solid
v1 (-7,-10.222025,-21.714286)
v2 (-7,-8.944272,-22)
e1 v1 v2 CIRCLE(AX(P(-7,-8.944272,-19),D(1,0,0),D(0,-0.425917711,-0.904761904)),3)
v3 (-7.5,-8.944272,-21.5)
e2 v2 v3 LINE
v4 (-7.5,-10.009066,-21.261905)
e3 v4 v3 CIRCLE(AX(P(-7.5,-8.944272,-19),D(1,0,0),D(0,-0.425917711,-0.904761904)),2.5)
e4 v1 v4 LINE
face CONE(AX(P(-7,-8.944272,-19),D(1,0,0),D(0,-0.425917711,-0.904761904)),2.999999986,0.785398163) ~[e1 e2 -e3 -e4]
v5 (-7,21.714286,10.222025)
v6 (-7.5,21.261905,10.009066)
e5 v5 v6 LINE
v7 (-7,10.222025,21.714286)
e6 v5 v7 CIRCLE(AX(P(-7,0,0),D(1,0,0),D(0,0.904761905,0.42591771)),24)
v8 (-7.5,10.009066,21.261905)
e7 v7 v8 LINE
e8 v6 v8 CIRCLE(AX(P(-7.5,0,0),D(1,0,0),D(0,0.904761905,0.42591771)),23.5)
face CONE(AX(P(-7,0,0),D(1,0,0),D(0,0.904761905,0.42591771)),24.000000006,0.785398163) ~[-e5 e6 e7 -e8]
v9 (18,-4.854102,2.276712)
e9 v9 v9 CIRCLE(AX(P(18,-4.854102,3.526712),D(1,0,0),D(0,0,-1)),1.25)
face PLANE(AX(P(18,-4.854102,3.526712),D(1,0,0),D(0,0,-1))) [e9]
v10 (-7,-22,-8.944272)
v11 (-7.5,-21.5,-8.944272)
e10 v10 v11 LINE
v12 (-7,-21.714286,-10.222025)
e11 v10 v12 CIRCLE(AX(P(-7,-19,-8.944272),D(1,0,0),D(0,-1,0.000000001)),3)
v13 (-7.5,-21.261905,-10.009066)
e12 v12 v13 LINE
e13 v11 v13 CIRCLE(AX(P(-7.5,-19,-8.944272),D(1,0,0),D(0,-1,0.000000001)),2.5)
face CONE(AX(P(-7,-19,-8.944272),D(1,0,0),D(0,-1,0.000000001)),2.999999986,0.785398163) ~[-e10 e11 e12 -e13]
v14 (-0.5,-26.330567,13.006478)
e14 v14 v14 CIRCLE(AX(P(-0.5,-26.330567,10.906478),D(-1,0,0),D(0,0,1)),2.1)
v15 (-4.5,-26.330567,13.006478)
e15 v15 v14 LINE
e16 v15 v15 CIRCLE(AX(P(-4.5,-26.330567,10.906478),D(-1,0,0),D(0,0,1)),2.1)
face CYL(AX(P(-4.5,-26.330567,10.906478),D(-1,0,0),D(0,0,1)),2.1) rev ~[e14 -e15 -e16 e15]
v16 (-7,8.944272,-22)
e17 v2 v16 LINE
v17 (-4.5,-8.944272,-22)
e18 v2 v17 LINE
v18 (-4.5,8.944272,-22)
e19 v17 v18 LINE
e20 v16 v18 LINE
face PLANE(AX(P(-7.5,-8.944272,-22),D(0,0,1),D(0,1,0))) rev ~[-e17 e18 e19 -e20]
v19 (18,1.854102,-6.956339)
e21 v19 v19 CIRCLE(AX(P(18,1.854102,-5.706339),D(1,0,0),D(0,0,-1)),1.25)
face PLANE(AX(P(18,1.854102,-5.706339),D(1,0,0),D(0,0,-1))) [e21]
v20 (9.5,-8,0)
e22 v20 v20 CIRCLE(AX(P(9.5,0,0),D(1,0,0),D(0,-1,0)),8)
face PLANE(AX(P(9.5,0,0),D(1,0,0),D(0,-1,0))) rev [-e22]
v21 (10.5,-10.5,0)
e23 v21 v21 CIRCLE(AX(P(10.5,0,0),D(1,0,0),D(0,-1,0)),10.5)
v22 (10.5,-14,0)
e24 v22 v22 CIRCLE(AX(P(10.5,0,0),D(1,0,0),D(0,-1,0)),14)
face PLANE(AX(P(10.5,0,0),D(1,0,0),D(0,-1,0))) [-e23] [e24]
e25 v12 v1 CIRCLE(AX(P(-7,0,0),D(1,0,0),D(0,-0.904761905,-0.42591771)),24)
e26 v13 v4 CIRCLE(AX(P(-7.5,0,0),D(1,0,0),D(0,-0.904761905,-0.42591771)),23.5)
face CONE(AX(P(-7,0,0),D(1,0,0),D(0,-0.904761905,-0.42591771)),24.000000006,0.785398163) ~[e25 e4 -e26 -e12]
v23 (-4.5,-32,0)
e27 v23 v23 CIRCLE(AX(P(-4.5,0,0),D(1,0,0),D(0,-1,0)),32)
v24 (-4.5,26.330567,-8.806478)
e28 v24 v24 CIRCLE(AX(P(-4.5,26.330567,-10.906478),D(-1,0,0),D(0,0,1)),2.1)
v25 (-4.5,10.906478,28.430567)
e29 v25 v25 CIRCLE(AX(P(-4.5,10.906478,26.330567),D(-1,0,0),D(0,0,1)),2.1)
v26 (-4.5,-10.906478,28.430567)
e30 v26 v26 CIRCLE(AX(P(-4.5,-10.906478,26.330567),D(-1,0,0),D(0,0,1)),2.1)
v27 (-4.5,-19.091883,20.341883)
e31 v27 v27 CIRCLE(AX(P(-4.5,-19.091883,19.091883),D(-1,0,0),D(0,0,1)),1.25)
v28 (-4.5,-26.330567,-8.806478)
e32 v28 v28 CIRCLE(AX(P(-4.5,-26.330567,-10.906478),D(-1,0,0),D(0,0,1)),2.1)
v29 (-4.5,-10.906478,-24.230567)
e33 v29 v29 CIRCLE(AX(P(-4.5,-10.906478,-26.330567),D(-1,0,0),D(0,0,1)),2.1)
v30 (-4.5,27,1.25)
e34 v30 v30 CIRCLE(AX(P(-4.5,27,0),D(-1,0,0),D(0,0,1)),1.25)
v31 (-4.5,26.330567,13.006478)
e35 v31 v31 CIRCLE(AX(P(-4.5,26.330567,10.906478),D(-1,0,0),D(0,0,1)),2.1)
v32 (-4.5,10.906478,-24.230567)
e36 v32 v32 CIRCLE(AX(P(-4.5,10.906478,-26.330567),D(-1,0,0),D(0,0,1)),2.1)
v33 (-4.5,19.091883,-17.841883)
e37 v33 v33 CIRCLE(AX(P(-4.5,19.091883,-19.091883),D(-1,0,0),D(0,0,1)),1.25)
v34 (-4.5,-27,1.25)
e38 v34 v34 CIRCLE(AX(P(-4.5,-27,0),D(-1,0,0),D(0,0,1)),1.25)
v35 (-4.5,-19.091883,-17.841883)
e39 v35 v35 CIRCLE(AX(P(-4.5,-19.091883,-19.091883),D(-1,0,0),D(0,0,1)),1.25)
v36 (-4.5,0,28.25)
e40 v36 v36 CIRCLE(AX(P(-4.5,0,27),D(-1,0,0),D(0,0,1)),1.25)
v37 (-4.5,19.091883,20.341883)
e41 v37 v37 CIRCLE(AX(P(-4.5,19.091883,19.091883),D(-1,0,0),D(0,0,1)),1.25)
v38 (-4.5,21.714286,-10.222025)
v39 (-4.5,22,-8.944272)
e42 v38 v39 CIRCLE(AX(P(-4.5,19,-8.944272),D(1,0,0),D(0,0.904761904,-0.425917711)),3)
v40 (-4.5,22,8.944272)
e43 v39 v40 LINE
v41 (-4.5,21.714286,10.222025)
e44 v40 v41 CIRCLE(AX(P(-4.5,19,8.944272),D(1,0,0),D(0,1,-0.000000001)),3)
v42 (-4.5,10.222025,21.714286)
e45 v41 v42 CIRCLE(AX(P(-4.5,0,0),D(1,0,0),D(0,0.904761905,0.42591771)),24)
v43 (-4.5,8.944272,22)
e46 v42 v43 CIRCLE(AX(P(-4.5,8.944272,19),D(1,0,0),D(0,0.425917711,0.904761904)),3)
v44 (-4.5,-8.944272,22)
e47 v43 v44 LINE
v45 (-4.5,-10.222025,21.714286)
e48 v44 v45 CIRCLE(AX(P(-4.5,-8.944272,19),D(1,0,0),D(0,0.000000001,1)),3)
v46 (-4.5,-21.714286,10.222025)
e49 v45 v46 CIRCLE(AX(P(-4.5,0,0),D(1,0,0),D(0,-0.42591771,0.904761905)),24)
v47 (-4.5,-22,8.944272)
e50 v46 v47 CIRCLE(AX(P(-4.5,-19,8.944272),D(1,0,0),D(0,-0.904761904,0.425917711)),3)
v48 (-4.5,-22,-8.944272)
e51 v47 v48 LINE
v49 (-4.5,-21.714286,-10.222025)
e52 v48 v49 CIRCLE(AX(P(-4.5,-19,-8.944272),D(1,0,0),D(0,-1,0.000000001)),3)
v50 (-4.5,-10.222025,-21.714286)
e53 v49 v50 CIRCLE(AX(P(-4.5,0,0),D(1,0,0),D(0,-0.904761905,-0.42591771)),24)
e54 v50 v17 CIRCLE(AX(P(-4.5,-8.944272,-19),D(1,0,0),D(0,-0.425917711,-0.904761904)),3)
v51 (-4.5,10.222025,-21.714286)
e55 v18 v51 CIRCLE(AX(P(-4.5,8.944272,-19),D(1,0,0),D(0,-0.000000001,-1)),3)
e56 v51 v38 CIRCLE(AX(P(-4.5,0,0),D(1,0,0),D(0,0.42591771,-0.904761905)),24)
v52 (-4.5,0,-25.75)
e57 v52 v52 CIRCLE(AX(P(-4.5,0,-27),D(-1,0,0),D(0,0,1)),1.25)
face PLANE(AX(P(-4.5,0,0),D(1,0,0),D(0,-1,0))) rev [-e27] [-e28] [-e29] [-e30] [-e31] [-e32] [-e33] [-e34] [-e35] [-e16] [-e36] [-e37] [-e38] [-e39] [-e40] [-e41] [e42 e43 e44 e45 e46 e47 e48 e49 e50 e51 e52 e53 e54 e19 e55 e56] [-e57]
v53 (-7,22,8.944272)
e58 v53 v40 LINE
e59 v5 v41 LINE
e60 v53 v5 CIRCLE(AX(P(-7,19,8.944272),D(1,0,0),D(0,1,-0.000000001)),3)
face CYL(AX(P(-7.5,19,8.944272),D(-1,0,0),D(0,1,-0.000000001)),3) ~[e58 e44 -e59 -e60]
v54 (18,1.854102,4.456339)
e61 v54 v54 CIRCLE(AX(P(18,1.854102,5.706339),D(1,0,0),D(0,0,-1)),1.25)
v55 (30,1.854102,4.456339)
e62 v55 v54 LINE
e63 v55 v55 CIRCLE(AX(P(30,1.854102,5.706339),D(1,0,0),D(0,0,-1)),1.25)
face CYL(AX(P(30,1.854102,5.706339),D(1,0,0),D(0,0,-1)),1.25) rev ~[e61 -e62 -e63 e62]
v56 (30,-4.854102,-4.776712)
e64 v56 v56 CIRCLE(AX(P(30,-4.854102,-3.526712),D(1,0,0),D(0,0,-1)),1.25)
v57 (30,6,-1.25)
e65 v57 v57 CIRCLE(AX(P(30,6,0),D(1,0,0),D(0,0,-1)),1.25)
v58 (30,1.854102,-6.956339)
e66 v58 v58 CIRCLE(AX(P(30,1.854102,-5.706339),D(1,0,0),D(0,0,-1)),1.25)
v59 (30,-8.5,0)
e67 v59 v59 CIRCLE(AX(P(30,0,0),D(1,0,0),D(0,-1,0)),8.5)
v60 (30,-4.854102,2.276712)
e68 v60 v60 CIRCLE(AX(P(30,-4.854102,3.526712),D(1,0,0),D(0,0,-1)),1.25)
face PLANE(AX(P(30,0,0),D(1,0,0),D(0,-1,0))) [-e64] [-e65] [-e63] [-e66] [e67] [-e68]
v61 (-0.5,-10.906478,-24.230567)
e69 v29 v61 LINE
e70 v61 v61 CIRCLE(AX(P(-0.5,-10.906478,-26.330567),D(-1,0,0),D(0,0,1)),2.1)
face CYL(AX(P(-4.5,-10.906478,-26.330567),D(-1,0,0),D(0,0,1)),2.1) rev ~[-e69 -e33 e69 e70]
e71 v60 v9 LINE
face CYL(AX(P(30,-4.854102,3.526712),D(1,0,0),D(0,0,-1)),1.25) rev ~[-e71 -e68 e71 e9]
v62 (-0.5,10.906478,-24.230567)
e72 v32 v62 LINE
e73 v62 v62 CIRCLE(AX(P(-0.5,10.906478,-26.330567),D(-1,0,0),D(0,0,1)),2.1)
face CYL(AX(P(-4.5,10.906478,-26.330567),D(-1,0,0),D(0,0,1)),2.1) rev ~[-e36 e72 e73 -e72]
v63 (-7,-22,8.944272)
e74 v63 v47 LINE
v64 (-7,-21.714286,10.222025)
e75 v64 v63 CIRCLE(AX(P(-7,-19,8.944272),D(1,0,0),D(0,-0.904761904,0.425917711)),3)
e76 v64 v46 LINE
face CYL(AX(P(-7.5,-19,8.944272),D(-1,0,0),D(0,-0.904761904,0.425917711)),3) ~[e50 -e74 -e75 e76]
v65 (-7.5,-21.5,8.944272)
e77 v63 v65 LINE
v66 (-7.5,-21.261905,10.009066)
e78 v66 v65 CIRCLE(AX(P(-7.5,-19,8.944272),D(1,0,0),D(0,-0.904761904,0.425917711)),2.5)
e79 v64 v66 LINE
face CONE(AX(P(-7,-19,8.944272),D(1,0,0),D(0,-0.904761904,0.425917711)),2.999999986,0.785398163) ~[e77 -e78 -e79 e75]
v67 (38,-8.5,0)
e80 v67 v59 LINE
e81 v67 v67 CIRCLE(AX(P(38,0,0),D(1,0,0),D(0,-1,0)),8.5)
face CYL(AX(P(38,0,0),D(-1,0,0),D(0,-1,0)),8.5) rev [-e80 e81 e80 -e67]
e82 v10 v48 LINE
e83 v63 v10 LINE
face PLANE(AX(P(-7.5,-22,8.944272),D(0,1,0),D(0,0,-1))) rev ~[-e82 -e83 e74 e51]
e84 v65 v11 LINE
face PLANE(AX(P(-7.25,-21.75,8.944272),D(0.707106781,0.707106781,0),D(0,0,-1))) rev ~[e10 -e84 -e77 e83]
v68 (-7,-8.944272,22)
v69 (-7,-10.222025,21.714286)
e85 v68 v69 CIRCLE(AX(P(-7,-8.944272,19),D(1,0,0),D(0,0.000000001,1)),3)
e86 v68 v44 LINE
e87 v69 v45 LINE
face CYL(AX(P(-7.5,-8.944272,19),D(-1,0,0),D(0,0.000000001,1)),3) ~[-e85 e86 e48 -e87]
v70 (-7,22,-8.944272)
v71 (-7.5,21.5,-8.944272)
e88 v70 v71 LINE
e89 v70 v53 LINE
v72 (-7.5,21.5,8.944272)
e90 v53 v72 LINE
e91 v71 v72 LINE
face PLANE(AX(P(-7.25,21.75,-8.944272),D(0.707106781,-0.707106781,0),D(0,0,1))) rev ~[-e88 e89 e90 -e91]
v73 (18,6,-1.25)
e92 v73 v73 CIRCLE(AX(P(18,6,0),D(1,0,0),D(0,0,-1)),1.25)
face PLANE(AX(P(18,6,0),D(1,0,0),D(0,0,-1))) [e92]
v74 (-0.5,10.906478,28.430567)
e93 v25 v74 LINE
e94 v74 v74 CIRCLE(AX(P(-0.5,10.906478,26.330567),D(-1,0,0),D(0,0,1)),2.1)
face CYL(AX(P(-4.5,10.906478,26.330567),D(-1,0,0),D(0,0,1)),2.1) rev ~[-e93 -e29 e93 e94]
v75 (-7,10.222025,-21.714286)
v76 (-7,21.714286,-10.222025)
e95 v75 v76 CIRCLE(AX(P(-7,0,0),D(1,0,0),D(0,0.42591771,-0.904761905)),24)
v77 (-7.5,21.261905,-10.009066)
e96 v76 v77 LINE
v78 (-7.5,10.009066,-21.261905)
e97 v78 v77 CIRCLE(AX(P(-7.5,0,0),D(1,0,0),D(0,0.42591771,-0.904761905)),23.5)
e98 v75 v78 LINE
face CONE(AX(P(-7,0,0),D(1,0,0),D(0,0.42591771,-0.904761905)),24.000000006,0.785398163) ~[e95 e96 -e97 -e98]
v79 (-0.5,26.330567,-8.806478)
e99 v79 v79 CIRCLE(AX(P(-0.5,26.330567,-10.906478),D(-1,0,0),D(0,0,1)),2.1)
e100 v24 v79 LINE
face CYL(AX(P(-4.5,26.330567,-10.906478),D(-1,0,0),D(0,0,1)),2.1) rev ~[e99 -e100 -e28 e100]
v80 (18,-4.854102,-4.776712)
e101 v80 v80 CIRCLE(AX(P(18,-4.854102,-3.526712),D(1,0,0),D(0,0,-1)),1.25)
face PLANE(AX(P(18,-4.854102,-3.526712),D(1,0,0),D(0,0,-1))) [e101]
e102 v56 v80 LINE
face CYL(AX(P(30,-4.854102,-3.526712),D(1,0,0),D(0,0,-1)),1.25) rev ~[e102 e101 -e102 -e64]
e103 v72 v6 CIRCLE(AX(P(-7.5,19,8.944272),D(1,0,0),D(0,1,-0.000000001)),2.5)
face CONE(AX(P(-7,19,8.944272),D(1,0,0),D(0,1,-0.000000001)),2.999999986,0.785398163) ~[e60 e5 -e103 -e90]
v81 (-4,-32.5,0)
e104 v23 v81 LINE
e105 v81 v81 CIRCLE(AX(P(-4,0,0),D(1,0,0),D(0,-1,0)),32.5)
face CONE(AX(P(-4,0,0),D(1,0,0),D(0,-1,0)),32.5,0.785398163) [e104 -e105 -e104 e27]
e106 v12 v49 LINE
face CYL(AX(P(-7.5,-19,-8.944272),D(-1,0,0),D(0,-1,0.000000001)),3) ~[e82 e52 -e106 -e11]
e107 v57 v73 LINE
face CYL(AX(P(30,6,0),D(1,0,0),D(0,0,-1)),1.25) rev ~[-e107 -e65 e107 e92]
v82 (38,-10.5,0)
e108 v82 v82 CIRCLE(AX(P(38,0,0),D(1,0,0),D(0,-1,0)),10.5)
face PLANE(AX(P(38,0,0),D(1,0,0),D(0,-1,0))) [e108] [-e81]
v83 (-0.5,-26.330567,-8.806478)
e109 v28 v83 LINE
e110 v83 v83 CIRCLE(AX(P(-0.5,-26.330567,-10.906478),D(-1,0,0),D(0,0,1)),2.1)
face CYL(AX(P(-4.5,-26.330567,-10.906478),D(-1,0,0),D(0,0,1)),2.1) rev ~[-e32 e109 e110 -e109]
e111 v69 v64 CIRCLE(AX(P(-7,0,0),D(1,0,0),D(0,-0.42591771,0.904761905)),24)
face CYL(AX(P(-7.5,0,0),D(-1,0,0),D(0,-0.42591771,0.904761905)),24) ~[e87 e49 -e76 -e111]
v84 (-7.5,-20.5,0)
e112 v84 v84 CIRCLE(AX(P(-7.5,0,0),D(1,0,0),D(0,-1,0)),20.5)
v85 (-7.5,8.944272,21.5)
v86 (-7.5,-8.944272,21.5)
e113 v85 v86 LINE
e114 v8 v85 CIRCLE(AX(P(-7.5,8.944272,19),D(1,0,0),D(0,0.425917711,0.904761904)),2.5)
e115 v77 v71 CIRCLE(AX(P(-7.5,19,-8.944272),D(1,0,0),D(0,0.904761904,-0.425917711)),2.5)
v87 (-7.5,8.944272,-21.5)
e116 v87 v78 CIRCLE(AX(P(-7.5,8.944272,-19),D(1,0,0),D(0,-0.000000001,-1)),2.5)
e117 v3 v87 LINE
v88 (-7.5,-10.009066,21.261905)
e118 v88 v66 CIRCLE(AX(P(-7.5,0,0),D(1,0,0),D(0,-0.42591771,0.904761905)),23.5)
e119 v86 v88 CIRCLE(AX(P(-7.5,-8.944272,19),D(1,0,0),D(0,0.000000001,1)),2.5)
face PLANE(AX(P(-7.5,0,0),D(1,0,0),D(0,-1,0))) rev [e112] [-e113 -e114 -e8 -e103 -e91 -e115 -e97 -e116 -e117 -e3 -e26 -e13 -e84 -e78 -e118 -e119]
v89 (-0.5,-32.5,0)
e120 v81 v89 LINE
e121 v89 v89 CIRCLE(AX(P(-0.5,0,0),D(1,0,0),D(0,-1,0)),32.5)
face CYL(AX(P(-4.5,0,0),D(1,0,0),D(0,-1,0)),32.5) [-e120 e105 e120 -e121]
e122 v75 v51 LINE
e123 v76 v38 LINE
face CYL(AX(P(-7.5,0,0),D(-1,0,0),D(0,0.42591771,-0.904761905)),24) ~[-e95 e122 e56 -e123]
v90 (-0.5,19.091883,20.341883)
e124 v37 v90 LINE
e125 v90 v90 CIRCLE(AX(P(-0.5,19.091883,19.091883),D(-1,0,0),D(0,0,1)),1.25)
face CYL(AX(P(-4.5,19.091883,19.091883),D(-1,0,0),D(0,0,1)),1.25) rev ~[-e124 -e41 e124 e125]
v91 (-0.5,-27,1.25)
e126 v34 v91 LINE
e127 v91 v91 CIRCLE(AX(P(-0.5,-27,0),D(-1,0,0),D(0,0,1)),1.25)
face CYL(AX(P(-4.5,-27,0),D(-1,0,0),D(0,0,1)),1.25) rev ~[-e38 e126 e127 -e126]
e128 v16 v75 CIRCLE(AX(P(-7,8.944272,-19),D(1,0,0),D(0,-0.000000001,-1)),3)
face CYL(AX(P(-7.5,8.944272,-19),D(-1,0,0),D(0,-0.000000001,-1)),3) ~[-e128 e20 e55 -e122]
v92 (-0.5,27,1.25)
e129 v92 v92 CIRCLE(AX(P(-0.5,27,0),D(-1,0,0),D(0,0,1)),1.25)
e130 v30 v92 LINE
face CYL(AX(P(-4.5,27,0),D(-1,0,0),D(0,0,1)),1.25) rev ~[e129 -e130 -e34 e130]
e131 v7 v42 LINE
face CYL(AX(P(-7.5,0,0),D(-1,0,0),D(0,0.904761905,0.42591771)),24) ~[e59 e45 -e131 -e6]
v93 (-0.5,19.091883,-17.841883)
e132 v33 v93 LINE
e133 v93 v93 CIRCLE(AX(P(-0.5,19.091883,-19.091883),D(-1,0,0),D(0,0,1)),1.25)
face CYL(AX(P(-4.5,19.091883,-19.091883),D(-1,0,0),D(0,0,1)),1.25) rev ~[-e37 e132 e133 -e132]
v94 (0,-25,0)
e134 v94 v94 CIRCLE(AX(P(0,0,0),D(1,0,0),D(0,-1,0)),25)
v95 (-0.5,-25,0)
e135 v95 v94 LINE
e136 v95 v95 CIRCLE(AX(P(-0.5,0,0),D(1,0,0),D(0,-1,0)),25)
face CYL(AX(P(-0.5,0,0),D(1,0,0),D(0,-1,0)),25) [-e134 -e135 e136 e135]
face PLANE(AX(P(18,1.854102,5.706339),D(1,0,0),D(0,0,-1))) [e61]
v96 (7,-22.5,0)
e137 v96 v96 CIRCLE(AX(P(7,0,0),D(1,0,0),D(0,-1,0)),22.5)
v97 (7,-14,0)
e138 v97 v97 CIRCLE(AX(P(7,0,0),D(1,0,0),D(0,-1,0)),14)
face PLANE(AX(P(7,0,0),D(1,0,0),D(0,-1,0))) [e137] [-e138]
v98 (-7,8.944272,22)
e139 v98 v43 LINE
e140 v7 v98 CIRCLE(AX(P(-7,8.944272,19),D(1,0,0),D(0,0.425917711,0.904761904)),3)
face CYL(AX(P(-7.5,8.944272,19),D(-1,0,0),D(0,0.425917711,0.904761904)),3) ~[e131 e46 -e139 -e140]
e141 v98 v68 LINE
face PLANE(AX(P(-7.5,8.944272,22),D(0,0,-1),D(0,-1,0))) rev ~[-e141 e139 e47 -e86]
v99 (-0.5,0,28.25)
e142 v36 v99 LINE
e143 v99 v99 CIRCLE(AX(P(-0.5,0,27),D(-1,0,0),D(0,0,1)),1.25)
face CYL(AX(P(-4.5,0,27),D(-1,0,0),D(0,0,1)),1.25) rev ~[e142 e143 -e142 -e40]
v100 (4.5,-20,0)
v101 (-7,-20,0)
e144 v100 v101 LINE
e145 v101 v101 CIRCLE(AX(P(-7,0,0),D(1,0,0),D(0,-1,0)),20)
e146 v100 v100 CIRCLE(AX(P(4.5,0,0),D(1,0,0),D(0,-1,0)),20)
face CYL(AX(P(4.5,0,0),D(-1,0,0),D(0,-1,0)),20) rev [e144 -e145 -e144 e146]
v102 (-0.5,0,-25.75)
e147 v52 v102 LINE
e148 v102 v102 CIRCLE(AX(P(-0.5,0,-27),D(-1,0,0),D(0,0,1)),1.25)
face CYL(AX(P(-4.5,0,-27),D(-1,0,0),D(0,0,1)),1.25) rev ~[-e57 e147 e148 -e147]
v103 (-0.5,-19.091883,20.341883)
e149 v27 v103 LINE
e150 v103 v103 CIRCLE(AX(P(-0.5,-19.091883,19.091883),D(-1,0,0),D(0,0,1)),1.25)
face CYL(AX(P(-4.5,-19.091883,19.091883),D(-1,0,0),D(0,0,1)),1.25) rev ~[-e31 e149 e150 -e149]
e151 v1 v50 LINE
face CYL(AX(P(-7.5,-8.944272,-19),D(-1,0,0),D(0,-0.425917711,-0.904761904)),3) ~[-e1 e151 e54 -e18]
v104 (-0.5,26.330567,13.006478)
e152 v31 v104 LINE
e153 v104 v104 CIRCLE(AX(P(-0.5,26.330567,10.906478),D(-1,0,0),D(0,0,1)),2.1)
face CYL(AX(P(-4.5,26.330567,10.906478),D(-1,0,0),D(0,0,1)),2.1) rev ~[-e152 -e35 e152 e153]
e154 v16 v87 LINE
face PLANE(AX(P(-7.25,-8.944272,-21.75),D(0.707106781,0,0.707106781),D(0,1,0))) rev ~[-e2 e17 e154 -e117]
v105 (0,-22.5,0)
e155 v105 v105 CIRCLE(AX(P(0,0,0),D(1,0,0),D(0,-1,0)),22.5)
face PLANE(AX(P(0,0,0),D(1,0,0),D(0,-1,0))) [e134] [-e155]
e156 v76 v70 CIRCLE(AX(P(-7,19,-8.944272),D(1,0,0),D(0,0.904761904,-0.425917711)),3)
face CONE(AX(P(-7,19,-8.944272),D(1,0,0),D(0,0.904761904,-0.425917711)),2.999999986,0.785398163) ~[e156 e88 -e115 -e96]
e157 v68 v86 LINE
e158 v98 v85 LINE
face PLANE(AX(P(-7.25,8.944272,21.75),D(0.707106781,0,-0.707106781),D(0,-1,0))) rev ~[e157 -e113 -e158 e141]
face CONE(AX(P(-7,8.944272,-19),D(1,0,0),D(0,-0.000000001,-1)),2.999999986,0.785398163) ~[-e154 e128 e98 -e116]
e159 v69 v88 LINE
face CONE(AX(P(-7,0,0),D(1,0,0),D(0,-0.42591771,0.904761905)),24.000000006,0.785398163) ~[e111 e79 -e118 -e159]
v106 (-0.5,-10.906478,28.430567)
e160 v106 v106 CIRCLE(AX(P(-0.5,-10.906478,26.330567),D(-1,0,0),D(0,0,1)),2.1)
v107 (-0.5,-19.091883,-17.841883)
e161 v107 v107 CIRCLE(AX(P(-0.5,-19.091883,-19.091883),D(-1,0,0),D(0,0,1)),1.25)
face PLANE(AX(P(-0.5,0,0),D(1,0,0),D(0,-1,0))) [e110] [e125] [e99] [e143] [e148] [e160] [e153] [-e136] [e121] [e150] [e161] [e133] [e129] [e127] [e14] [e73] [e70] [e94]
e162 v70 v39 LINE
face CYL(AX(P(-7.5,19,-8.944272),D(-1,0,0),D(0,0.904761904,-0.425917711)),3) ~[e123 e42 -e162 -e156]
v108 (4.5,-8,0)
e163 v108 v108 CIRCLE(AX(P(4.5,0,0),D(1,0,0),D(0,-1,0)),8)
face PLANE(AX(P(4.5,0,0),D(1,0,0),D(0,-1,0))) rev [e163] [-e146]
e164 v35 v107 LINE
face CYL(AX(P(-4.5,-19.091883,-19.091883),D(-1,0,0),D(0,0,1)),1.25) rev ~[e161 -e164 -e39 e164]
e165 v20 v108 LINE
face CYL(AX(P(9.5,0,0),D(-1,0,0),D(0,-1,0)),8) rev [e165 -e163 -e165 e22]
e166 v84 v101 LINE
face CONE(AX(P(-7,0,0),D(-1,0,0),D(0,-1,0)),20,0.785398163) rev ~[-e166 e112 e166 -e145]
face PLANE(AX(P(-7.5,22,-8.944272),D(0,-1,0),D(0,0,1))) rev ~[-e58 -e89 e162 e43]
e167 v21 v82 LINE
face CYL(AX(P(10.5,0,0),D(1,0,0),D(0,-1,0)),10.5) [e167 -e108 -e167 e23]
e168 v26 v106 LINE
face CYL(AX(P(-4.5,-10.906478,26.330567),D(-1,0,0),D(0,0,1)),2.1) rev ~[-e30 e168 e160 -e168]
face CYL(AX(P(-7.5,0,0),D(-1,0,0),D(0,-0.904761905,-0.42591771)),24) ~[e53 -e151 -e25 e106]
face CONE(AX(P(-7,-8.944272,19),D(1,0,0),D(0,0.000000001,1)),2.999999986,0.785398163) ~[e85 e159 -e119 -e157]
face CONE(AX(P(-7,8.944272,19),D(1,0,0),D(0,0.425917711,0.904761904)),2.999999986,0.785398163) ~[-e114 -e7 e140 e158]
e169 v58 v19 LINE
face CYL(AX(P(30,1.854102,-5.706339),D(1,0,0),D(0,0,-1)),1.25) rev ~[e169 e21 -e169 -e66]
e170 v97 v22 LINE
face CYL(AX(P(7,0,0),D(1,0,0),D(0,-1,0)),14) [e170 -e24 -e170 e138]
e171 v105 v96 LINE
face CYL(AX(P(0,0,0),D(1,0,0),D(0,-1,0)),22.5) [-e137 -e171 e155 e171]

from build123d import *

# Parameters (mm, degrees)
SKETCH2_R          = 32.5
CUT_EXTRUDE1_DEPTH = 3
SKETCH3_R          = 1.25
CUT_EXTRUDE2_DEPTH = 12
CUT_EXTRUDE3_REACH = 44.5
SKETCH4_R          = 1.25
SKETCH4_R_2        = 2.1
CHAMFER1_SIZE      = 0.5
CHAMFER2_SIZE      = 0.5


with BuildPart() as part:
    # Sketch1 → Revolve1 (revolve)
    with BuildSketch(Plane.YX):
        Polygon((-32.5, -4.5), (-32.5, -0.5), (-25, -0.5), (-25, 0), (-22.5, 0), (-22.5, 7), (-14, 7), (-14, 10.5), (-10.5, 10.5), (-10.5, 38), (-8.5, 38), (-8.5, 30), (0, 30), (0, 9.5), (-8, 9.5), (-8, 4.5), (-20, 4.5), (-20, -7.5), (-24, -7.5), (-24, -4.5), align=None)
    revolve(axis=Axis((0, 0, 0), (1, 0, 0)))

    # Sketch2 → Cut-Extrude1 (cut)
    with BuildSketch(Plane.ZY.offset(7.5)):
        Circle(SKETCH2_R)
        with BuildLine():
            Line((-8.94427191, 22), (8.94427191, 22))
            ThreePointArc((8.94427191, 22), (9.598925581, 21.927700219), (10.22202504, 21.714285714))
            ThreePointArc((10.22202504, 21.714285714), (16.970562748, 16.970562748), (21.714285714, 10.22202504))
            ThreePointArc((21.714285714, 10.22202504), (21.927700219, 9.598925581), (22, 8.94427191))
            Line((22, 8.94427191), (22, -8.94427191))
            ThreePointArc((22, -8.94427191), (21.927700219, -9.598925581), (21.714285714, -10.22202504))
            ThreePointArc((21.714285714, -10.22202504), (16.970562748, -16.970562748), (10.22202504, -21.714285714))
            ThreePointArc((10.22202504, -21.714285714), (9.598925581, -21.927700219), (8.94427191, -22))
            Line((8.94427191, -22), (-8.94427191, -22))
            ThreePointArc((-8.94427191, -22), (-9.598925581, -21.927700219), (-10.22202504, -21.714285714))
            ThreePointArc((-10.22202504, -21.714285714), (-16.970562748, -16.970562748), (-21.714285714, -10.22202504))
            ThreePointArc((-21.714285714, -10.22202504), (-21.927700219, -9.598925581), (-22, -8.94427191))
            Line((-22, -8.94427191), (-22, 8.94427191))
            ThreePointArc((-22, 8.94427191), (-21.927700219, 9.598925581), (-21.714285714, 10.22202504))
            ThreePointArc((-21.714285714, 10.22202504), (-16.970562748, 16.970562748), (-10.22202504, 21.714285714))
            ThreePointArc((-10.22202504, 21.714285714), (-9.598925581, 21.927700219), (-8.94427191, 22))
        make_face(mode=Mode.SUBTRACT)
    extrude(amount=-CUT_EXTRUDE1_DEPTH, mode=Mode.SUBTRACT)

    # Sketch3 → Cut-Extrude2 (cut)
    with BuildSketch(Plane(origin=(30, 0, 0), x_dir=(0, 0, -1), z_dir=(1, 0, 0))):
        with Locations((0, 6)):
            Circle(SKETCH3_R)
        with Locations((5.706339098, 1.854101966)):
            Circle(SKETCH3_R)
        with Locations((3.526711514, -4.854101966)):
            Circle(SKETCH3_R)
        with Locations((-3.526711514, -4.854101966)):
            Circle(SKETCH3_R)
        with Locations((-5.706339098, 1.854101966)):
            Circle(SKETCH3_R)
    extrude(amount=-CUT_EXTRUDE2_DEPTH, mode=Mode.SUBTRACT)

    # Sketch4 → Cut-Extrude3 (cut, up to next)
    with BuildSketch(Plane.ZY.offset(4.5), mode=Mode.PRIVATE) as cut_extrude3_sk1:
        with Locations((0, 27)):
            Circle(SKETCH4_R)
    cut_extrude3_tool1 = extrude(cut_extrude3_sk1.sketch, amount=-CUT_EXTRUDE3_REACH, mode=Mode.PRIVATE) & part.part
    add(cut_extrude3_tool1.solids().sort_by_distance((-4.5, 27, 0))[0], mode=Mode.SUBTRACT)
    # Sketch4 → Cut-Extrude3 (cut, up to next)
    with BuildSketch(Plane.ZY.offset(4.5), mode=Mode.PRIVATE) as cut_extrude3_sk2:
        with Locations((10.906477822, 26.330566677)):
            Circle(SKETCH4_R_2)
    cut_extrude3_tool2 = extrude(cut_extrude3_sk2.sketch, amount=-CUT_EXTRUDE3_REACH, mode=Mode.PRIVATE) & part.part
    add(cut_extrude3_tool2.solids().sort_by_distance((-4.5, 26.330567, 10.906478))[0], mode=Mode.SUBTRACT)
    # Sketch4 → Cut-Extrude3 (cut, up to next)
    with BuildSketch(Plane.ZY.offset(4.5), mode=Mode.PRIVATE) as cut_extrude3_sk3:
        with Locations((19.091883092, 19.091883092)):
            Circle(SKETCH4_R)
    cut_extrude3_tool3 = extrude(cut_extrude3_sk3.sketch, amount=-CUT_EXTRUDE3_REACH, mode=Mode.PRIVATE) & part.part
    add(cut_extrude3_tool3.solids().sort_by_distance((-4.5, 19.091883, 19.091883))[0], mode=Mode.SUBTRACT)
    # Sketch4 → Cut-Extrude3 (cut, up to next)
    with BuildSketch(Plane.ZY.offset(4.5), mode=Mode.PRIVATE) as cut_extrude3_sk4:
        with Locations((26.330566677, 10.906477822)):
            Circle(SKETCH4_R_2)
    cut_extrude3_tool4 = extrude(cut_extrude3_sk4.sketch, amount=-CUT_EXTRUDE3_REACH, mode=Mode.PRIVATE) & part.part
    add(cut_extrude3_tool4.solids().sort_by_distance((-4.5, 10.906478, 26.330567))[0], mode=Mode.SUBTRACT)
    # Sketch4 → Cut-Extrude3 (cut, up to next)
    with BuildSketch(Plane.ZY.offset(4.5), mode=Mode.PRIVATE) as cut_extrude3_sk5:
        with Locations((27, 0)):
            Circle(SKETCH4_R)
    cut_extrude3_tool5 = extrude(cut_extrude3_sk5.sketch, amount=-CUT_EXTRUDE3_REACH, mode=Mode.PRIVATE) & part.part
    add(cut_extrude3_tool5.solids().sort_by_distance((-4.5, 0, 27))[0], mode=Mode.SUBTRACT)
    # Sketch4 → Cut-Extrude3 (cut, up to next)
    with BuildSketch(Plane.ZY.offset(4.5), mode=Mode.PRIVATE) as cut_extrude3_sk6:
        with Locations((26.330566677, -10.906477822)):
            Circle(SKETCH4_R_2)
    cut_extrude3_tool6 = extrude(cut_extrude3_sk6.sketch, amount=-CUT_EXTRUDE3_REACH, mode=Mode.PRIVATE) & part.part
    add(cut_extrude3_tool6.solids().sort_by_distance((-4.5, -10.906478, 26.330567))[0], mode=Mode.SUBTRACT)
    # Sketch4 → Cut-Extrude3 (cut, up to next)
    with BuildSketch(Plane.ZY.offset(4.5), mode=Mode.PRIVATE) as cut_extrude3_sk7:
        with Locations((19.091883092, -19.091883092)):
            Circle(SKETCH4_R)
    cut_extrude3_tool7 = extrude(cut_extrude3_sk7.sketch, amount=-CUT_EXTRUDE3_REACH, mode=Mode.PRIVATE) & part.part
    add(cut_extrude3_tool7.solids().sort_by_distance((-4.5, -19.091883, 19.091883))[0], mode=Mode.SUBTRACT)
    # Sketch4 → Cut-Extrude3 (cut, up to next)
    with BuildSketch(Plane.ZY.offset(4.5), mode=Mode.PRIVATE) as cut_extrude3_sk8:
        with Locations((10.906477822, -26.330566677)):
            Circle(SKETCH4_R_2)
    cut_extrude3_tool8 = extrude(cut_extrude3_sk8.sketch, amount=-CUT_EXTRUDE3_REACH, mode=Mode.PRIVATE) & part.part
    add(cut_extrude3_tool8.solids().sort_by_distance((-4.5, -26.330567, 10.906478))[0], mode=Mode.SUBTRACT)
    # Sketch4 → Cut-Extrude3 (cut, up to next)
    with BuildSketch(Plane.ZY.offset(4.5), mode=Mode.PRIVATE) as cut_extrude3_sk9:
        with Locations((0, -27)):
            Circle(SKETCH4_R)
    cut_extrude3_tool9 = extrude(cut_extrude3_sk9.sketch, amount=-CUT_EXTRUDE3_REACH, mode=Mode.PRIVATE) & part.part
    add(cut_extrude3_tool9.solids().sort_by_distance((-4.5, -27, 0))[0], mode=Mode.SUBTRACT)
    # Sketch4 → Cut-Extrude3 (cut, up to next)
    with BuildSketch(Plane.ZY.offset(4.5), mode=Mode.PRIVATE) as cut_extrude3_sk10:
        with Locations((-10.906477822, -26.330566677)):
            Circle(SKETCH4_R_2)
    cut_extrude3_tool10 = extrude(cut_extrude3_sk10.sketch, amount=-CUT_EXTRUDE3_REACH, mode=Mode.PRIVATE) & part.part
    add(cut_extrude3_tool10.solids().sort_by_distance((-4.5, -26.330567, -10.906478))[0], mode=Mode.SUBTRACT)
    # Sketch4 → Cut-Extrude3 (cut, up to next)
    with BuildSketch(Plane.ZY.offset(4.5), mode=Mode.PRIVATE) as cut_extrude3_sk11:
        with Locations((-19.091883092, -19.091883092)):
            Circle(SKETCH4_R)
    cut_extrude3_tool11 = extrude(cut_extrude3_sk11.sketch, amount=-CUT_EXTRUDE3_REACH, mode=Mode.PRIVATE) & part.part
    add(cut_extrude3_tool11.solids().sort_by_distance((-4.5, -19.091883, -19.091883))[0], mode=Mode.SUBTRACT)
    # Sketch4 → Cut-Extrude3 (cut, up to next)
    with BuildSketch(Plane.ZY.offset(4.5), mode=Mode.PRIVATE) as cut_extrude3_sk12:
        with Locations((-26.330566677, -10.906477822)):
            Circle(SKETCH4_R_2)
    cut_extrude3_tool12 = extrude(cut_extrude3_sk12.sketch, amount=-CUT_EXTRUDE3_REACH, mode=Mode.PRIVATE) & part.part
    add(cut_extrude3_tool12.solids().sort_by_distance((-4.5, -10.906478, -26.330567))[0], mode=Mode.SUBTRACT)
    # Sketch4 → Cut-Extrude3 (cut, up to next)
    with BuildSketch(Plane.ZY.offset(4.5), mode=Mode.PRIVATE) as cut_extrude3_sk13:
        with Locations((-27, 0)):
            Circle(SKETCH4_R)
    cut_extrude3_tool13 = extrude(cut_extrude3_sk13.sketch, amount=-CUT_EXTRUDE3_REACH, mode=Mode.PRIVATE) & part.part
    add(cut_extrude3_tool13.solids().sort_by_distance((-4.5, 0, -27))[0], mode=Mode.SUBTRACT)
    # Sketch4 → Cut-Extrude3 (cut, up to next)
    with BuildSketch(Plane.ZY.offset(4.5), mode=Mode.PRIVATE) as cut_extrude3_sk14:
        with Locations((-26.330566677, 10.906477822)):
            Circle(SKETCH4_R_2)
    cut_extrude3_tool14 = extrude(cut_extrude3_sk14.sketch, amount=-CUT_EXTRUDE3_REACH, mode=Mode.PRIVATE) & part.part
    add(cut_extrude3_tool14.solids().sort_by_distance((-4.5, 10.906478, -26.330567))[0], mode=Mode.SUBTRACT)
    # Sketch4 → Cut-Extrude3 (cut, up to next)
    with BuildSketch(Plane.ZY.offset(4.5), mode=Mode.PRIVATE) as cut_extrude3_sk15:
        with Locations((-19.091883092, 19.091883092)):
            Circle(SKETCH4_R)
    cut_extrude3_tool15 = extrude(cut_extrude3_sk15.sketch, amount=-CUT_EXTRUDE3_REACH, mode=Mode.PRIVATE) & part.part
    add(cut_extrude3_tool15.solids().sort_by_distance((-4.5, 19.091883, -19.091883))[0], mode=Mode.SUBTRACT)
    # Sketch4 → Cut-Extrude3 (cut, up to next)
    with BuildSketch(Plane.ZY.offset(4.5), mode=Mode.PRIVATE) as cut_extrude3_sk16:
        with Locations((-10.906477822, 26.330566677)):
            Circle(SKETCH4_R_2)
    cut_extrude3_tool16 = extrude(cut_extrude3_sk16.sketch, amount=-CUT_EXTRUDE3_REACH, mode=Mode.PRIVATE) & part.part
    add(cut_extrude3_tool16.solids().sort_by_distance((-4.5, 26.330567, -10.906478))[0], mode=Mode.SUBTRACT)

    # Chamfer1
    chamfer1_edges = [part.edges().sort_by_distance(p)[0] for p in [
        (-7.5, 16.970562748, 16.970562748),
        (-7.5, 20, 0),
        (-7.5, 16.970562748, -16.970562748),
        (-7.5, -16.970562748, -16.970562748),
        (-7.5, -16.970562748, 16.970562748),
        (-7.5, -9.598925581, 21.927700219),
        (-7.5, -21.927700219, 9.598925581),
        (-7.5, -22, 0),
        (-7.5, -21.927700219, -9.598925581),
        (-7.5, -9.598925581, -21.927700219),
        (-7.5, 0, -22),
        (-7.5, 9.598925581, -21.927700219),
        (-7.5, 21.927700219, -9.598925581),
        (-7.5, 22, 0),
        (-7.5, 21.927700219, 9.598925581),
        (-7.5, 9.598925581, 21.927700219),
        (-7.5, 0, 22),
    ]]
    chamfer(chamfer1_edges, length=CHAMFER1_SIZE)

    # Chamfer2
    chamfer2_edges = [part.edges().sort_by_distance(p)[0] for p in [
        (-4.5, 32.5, 0),
    ]]
    chamfer(chamfer2_edges, length=CHAMFER2_SIZE)


solid = part.part
